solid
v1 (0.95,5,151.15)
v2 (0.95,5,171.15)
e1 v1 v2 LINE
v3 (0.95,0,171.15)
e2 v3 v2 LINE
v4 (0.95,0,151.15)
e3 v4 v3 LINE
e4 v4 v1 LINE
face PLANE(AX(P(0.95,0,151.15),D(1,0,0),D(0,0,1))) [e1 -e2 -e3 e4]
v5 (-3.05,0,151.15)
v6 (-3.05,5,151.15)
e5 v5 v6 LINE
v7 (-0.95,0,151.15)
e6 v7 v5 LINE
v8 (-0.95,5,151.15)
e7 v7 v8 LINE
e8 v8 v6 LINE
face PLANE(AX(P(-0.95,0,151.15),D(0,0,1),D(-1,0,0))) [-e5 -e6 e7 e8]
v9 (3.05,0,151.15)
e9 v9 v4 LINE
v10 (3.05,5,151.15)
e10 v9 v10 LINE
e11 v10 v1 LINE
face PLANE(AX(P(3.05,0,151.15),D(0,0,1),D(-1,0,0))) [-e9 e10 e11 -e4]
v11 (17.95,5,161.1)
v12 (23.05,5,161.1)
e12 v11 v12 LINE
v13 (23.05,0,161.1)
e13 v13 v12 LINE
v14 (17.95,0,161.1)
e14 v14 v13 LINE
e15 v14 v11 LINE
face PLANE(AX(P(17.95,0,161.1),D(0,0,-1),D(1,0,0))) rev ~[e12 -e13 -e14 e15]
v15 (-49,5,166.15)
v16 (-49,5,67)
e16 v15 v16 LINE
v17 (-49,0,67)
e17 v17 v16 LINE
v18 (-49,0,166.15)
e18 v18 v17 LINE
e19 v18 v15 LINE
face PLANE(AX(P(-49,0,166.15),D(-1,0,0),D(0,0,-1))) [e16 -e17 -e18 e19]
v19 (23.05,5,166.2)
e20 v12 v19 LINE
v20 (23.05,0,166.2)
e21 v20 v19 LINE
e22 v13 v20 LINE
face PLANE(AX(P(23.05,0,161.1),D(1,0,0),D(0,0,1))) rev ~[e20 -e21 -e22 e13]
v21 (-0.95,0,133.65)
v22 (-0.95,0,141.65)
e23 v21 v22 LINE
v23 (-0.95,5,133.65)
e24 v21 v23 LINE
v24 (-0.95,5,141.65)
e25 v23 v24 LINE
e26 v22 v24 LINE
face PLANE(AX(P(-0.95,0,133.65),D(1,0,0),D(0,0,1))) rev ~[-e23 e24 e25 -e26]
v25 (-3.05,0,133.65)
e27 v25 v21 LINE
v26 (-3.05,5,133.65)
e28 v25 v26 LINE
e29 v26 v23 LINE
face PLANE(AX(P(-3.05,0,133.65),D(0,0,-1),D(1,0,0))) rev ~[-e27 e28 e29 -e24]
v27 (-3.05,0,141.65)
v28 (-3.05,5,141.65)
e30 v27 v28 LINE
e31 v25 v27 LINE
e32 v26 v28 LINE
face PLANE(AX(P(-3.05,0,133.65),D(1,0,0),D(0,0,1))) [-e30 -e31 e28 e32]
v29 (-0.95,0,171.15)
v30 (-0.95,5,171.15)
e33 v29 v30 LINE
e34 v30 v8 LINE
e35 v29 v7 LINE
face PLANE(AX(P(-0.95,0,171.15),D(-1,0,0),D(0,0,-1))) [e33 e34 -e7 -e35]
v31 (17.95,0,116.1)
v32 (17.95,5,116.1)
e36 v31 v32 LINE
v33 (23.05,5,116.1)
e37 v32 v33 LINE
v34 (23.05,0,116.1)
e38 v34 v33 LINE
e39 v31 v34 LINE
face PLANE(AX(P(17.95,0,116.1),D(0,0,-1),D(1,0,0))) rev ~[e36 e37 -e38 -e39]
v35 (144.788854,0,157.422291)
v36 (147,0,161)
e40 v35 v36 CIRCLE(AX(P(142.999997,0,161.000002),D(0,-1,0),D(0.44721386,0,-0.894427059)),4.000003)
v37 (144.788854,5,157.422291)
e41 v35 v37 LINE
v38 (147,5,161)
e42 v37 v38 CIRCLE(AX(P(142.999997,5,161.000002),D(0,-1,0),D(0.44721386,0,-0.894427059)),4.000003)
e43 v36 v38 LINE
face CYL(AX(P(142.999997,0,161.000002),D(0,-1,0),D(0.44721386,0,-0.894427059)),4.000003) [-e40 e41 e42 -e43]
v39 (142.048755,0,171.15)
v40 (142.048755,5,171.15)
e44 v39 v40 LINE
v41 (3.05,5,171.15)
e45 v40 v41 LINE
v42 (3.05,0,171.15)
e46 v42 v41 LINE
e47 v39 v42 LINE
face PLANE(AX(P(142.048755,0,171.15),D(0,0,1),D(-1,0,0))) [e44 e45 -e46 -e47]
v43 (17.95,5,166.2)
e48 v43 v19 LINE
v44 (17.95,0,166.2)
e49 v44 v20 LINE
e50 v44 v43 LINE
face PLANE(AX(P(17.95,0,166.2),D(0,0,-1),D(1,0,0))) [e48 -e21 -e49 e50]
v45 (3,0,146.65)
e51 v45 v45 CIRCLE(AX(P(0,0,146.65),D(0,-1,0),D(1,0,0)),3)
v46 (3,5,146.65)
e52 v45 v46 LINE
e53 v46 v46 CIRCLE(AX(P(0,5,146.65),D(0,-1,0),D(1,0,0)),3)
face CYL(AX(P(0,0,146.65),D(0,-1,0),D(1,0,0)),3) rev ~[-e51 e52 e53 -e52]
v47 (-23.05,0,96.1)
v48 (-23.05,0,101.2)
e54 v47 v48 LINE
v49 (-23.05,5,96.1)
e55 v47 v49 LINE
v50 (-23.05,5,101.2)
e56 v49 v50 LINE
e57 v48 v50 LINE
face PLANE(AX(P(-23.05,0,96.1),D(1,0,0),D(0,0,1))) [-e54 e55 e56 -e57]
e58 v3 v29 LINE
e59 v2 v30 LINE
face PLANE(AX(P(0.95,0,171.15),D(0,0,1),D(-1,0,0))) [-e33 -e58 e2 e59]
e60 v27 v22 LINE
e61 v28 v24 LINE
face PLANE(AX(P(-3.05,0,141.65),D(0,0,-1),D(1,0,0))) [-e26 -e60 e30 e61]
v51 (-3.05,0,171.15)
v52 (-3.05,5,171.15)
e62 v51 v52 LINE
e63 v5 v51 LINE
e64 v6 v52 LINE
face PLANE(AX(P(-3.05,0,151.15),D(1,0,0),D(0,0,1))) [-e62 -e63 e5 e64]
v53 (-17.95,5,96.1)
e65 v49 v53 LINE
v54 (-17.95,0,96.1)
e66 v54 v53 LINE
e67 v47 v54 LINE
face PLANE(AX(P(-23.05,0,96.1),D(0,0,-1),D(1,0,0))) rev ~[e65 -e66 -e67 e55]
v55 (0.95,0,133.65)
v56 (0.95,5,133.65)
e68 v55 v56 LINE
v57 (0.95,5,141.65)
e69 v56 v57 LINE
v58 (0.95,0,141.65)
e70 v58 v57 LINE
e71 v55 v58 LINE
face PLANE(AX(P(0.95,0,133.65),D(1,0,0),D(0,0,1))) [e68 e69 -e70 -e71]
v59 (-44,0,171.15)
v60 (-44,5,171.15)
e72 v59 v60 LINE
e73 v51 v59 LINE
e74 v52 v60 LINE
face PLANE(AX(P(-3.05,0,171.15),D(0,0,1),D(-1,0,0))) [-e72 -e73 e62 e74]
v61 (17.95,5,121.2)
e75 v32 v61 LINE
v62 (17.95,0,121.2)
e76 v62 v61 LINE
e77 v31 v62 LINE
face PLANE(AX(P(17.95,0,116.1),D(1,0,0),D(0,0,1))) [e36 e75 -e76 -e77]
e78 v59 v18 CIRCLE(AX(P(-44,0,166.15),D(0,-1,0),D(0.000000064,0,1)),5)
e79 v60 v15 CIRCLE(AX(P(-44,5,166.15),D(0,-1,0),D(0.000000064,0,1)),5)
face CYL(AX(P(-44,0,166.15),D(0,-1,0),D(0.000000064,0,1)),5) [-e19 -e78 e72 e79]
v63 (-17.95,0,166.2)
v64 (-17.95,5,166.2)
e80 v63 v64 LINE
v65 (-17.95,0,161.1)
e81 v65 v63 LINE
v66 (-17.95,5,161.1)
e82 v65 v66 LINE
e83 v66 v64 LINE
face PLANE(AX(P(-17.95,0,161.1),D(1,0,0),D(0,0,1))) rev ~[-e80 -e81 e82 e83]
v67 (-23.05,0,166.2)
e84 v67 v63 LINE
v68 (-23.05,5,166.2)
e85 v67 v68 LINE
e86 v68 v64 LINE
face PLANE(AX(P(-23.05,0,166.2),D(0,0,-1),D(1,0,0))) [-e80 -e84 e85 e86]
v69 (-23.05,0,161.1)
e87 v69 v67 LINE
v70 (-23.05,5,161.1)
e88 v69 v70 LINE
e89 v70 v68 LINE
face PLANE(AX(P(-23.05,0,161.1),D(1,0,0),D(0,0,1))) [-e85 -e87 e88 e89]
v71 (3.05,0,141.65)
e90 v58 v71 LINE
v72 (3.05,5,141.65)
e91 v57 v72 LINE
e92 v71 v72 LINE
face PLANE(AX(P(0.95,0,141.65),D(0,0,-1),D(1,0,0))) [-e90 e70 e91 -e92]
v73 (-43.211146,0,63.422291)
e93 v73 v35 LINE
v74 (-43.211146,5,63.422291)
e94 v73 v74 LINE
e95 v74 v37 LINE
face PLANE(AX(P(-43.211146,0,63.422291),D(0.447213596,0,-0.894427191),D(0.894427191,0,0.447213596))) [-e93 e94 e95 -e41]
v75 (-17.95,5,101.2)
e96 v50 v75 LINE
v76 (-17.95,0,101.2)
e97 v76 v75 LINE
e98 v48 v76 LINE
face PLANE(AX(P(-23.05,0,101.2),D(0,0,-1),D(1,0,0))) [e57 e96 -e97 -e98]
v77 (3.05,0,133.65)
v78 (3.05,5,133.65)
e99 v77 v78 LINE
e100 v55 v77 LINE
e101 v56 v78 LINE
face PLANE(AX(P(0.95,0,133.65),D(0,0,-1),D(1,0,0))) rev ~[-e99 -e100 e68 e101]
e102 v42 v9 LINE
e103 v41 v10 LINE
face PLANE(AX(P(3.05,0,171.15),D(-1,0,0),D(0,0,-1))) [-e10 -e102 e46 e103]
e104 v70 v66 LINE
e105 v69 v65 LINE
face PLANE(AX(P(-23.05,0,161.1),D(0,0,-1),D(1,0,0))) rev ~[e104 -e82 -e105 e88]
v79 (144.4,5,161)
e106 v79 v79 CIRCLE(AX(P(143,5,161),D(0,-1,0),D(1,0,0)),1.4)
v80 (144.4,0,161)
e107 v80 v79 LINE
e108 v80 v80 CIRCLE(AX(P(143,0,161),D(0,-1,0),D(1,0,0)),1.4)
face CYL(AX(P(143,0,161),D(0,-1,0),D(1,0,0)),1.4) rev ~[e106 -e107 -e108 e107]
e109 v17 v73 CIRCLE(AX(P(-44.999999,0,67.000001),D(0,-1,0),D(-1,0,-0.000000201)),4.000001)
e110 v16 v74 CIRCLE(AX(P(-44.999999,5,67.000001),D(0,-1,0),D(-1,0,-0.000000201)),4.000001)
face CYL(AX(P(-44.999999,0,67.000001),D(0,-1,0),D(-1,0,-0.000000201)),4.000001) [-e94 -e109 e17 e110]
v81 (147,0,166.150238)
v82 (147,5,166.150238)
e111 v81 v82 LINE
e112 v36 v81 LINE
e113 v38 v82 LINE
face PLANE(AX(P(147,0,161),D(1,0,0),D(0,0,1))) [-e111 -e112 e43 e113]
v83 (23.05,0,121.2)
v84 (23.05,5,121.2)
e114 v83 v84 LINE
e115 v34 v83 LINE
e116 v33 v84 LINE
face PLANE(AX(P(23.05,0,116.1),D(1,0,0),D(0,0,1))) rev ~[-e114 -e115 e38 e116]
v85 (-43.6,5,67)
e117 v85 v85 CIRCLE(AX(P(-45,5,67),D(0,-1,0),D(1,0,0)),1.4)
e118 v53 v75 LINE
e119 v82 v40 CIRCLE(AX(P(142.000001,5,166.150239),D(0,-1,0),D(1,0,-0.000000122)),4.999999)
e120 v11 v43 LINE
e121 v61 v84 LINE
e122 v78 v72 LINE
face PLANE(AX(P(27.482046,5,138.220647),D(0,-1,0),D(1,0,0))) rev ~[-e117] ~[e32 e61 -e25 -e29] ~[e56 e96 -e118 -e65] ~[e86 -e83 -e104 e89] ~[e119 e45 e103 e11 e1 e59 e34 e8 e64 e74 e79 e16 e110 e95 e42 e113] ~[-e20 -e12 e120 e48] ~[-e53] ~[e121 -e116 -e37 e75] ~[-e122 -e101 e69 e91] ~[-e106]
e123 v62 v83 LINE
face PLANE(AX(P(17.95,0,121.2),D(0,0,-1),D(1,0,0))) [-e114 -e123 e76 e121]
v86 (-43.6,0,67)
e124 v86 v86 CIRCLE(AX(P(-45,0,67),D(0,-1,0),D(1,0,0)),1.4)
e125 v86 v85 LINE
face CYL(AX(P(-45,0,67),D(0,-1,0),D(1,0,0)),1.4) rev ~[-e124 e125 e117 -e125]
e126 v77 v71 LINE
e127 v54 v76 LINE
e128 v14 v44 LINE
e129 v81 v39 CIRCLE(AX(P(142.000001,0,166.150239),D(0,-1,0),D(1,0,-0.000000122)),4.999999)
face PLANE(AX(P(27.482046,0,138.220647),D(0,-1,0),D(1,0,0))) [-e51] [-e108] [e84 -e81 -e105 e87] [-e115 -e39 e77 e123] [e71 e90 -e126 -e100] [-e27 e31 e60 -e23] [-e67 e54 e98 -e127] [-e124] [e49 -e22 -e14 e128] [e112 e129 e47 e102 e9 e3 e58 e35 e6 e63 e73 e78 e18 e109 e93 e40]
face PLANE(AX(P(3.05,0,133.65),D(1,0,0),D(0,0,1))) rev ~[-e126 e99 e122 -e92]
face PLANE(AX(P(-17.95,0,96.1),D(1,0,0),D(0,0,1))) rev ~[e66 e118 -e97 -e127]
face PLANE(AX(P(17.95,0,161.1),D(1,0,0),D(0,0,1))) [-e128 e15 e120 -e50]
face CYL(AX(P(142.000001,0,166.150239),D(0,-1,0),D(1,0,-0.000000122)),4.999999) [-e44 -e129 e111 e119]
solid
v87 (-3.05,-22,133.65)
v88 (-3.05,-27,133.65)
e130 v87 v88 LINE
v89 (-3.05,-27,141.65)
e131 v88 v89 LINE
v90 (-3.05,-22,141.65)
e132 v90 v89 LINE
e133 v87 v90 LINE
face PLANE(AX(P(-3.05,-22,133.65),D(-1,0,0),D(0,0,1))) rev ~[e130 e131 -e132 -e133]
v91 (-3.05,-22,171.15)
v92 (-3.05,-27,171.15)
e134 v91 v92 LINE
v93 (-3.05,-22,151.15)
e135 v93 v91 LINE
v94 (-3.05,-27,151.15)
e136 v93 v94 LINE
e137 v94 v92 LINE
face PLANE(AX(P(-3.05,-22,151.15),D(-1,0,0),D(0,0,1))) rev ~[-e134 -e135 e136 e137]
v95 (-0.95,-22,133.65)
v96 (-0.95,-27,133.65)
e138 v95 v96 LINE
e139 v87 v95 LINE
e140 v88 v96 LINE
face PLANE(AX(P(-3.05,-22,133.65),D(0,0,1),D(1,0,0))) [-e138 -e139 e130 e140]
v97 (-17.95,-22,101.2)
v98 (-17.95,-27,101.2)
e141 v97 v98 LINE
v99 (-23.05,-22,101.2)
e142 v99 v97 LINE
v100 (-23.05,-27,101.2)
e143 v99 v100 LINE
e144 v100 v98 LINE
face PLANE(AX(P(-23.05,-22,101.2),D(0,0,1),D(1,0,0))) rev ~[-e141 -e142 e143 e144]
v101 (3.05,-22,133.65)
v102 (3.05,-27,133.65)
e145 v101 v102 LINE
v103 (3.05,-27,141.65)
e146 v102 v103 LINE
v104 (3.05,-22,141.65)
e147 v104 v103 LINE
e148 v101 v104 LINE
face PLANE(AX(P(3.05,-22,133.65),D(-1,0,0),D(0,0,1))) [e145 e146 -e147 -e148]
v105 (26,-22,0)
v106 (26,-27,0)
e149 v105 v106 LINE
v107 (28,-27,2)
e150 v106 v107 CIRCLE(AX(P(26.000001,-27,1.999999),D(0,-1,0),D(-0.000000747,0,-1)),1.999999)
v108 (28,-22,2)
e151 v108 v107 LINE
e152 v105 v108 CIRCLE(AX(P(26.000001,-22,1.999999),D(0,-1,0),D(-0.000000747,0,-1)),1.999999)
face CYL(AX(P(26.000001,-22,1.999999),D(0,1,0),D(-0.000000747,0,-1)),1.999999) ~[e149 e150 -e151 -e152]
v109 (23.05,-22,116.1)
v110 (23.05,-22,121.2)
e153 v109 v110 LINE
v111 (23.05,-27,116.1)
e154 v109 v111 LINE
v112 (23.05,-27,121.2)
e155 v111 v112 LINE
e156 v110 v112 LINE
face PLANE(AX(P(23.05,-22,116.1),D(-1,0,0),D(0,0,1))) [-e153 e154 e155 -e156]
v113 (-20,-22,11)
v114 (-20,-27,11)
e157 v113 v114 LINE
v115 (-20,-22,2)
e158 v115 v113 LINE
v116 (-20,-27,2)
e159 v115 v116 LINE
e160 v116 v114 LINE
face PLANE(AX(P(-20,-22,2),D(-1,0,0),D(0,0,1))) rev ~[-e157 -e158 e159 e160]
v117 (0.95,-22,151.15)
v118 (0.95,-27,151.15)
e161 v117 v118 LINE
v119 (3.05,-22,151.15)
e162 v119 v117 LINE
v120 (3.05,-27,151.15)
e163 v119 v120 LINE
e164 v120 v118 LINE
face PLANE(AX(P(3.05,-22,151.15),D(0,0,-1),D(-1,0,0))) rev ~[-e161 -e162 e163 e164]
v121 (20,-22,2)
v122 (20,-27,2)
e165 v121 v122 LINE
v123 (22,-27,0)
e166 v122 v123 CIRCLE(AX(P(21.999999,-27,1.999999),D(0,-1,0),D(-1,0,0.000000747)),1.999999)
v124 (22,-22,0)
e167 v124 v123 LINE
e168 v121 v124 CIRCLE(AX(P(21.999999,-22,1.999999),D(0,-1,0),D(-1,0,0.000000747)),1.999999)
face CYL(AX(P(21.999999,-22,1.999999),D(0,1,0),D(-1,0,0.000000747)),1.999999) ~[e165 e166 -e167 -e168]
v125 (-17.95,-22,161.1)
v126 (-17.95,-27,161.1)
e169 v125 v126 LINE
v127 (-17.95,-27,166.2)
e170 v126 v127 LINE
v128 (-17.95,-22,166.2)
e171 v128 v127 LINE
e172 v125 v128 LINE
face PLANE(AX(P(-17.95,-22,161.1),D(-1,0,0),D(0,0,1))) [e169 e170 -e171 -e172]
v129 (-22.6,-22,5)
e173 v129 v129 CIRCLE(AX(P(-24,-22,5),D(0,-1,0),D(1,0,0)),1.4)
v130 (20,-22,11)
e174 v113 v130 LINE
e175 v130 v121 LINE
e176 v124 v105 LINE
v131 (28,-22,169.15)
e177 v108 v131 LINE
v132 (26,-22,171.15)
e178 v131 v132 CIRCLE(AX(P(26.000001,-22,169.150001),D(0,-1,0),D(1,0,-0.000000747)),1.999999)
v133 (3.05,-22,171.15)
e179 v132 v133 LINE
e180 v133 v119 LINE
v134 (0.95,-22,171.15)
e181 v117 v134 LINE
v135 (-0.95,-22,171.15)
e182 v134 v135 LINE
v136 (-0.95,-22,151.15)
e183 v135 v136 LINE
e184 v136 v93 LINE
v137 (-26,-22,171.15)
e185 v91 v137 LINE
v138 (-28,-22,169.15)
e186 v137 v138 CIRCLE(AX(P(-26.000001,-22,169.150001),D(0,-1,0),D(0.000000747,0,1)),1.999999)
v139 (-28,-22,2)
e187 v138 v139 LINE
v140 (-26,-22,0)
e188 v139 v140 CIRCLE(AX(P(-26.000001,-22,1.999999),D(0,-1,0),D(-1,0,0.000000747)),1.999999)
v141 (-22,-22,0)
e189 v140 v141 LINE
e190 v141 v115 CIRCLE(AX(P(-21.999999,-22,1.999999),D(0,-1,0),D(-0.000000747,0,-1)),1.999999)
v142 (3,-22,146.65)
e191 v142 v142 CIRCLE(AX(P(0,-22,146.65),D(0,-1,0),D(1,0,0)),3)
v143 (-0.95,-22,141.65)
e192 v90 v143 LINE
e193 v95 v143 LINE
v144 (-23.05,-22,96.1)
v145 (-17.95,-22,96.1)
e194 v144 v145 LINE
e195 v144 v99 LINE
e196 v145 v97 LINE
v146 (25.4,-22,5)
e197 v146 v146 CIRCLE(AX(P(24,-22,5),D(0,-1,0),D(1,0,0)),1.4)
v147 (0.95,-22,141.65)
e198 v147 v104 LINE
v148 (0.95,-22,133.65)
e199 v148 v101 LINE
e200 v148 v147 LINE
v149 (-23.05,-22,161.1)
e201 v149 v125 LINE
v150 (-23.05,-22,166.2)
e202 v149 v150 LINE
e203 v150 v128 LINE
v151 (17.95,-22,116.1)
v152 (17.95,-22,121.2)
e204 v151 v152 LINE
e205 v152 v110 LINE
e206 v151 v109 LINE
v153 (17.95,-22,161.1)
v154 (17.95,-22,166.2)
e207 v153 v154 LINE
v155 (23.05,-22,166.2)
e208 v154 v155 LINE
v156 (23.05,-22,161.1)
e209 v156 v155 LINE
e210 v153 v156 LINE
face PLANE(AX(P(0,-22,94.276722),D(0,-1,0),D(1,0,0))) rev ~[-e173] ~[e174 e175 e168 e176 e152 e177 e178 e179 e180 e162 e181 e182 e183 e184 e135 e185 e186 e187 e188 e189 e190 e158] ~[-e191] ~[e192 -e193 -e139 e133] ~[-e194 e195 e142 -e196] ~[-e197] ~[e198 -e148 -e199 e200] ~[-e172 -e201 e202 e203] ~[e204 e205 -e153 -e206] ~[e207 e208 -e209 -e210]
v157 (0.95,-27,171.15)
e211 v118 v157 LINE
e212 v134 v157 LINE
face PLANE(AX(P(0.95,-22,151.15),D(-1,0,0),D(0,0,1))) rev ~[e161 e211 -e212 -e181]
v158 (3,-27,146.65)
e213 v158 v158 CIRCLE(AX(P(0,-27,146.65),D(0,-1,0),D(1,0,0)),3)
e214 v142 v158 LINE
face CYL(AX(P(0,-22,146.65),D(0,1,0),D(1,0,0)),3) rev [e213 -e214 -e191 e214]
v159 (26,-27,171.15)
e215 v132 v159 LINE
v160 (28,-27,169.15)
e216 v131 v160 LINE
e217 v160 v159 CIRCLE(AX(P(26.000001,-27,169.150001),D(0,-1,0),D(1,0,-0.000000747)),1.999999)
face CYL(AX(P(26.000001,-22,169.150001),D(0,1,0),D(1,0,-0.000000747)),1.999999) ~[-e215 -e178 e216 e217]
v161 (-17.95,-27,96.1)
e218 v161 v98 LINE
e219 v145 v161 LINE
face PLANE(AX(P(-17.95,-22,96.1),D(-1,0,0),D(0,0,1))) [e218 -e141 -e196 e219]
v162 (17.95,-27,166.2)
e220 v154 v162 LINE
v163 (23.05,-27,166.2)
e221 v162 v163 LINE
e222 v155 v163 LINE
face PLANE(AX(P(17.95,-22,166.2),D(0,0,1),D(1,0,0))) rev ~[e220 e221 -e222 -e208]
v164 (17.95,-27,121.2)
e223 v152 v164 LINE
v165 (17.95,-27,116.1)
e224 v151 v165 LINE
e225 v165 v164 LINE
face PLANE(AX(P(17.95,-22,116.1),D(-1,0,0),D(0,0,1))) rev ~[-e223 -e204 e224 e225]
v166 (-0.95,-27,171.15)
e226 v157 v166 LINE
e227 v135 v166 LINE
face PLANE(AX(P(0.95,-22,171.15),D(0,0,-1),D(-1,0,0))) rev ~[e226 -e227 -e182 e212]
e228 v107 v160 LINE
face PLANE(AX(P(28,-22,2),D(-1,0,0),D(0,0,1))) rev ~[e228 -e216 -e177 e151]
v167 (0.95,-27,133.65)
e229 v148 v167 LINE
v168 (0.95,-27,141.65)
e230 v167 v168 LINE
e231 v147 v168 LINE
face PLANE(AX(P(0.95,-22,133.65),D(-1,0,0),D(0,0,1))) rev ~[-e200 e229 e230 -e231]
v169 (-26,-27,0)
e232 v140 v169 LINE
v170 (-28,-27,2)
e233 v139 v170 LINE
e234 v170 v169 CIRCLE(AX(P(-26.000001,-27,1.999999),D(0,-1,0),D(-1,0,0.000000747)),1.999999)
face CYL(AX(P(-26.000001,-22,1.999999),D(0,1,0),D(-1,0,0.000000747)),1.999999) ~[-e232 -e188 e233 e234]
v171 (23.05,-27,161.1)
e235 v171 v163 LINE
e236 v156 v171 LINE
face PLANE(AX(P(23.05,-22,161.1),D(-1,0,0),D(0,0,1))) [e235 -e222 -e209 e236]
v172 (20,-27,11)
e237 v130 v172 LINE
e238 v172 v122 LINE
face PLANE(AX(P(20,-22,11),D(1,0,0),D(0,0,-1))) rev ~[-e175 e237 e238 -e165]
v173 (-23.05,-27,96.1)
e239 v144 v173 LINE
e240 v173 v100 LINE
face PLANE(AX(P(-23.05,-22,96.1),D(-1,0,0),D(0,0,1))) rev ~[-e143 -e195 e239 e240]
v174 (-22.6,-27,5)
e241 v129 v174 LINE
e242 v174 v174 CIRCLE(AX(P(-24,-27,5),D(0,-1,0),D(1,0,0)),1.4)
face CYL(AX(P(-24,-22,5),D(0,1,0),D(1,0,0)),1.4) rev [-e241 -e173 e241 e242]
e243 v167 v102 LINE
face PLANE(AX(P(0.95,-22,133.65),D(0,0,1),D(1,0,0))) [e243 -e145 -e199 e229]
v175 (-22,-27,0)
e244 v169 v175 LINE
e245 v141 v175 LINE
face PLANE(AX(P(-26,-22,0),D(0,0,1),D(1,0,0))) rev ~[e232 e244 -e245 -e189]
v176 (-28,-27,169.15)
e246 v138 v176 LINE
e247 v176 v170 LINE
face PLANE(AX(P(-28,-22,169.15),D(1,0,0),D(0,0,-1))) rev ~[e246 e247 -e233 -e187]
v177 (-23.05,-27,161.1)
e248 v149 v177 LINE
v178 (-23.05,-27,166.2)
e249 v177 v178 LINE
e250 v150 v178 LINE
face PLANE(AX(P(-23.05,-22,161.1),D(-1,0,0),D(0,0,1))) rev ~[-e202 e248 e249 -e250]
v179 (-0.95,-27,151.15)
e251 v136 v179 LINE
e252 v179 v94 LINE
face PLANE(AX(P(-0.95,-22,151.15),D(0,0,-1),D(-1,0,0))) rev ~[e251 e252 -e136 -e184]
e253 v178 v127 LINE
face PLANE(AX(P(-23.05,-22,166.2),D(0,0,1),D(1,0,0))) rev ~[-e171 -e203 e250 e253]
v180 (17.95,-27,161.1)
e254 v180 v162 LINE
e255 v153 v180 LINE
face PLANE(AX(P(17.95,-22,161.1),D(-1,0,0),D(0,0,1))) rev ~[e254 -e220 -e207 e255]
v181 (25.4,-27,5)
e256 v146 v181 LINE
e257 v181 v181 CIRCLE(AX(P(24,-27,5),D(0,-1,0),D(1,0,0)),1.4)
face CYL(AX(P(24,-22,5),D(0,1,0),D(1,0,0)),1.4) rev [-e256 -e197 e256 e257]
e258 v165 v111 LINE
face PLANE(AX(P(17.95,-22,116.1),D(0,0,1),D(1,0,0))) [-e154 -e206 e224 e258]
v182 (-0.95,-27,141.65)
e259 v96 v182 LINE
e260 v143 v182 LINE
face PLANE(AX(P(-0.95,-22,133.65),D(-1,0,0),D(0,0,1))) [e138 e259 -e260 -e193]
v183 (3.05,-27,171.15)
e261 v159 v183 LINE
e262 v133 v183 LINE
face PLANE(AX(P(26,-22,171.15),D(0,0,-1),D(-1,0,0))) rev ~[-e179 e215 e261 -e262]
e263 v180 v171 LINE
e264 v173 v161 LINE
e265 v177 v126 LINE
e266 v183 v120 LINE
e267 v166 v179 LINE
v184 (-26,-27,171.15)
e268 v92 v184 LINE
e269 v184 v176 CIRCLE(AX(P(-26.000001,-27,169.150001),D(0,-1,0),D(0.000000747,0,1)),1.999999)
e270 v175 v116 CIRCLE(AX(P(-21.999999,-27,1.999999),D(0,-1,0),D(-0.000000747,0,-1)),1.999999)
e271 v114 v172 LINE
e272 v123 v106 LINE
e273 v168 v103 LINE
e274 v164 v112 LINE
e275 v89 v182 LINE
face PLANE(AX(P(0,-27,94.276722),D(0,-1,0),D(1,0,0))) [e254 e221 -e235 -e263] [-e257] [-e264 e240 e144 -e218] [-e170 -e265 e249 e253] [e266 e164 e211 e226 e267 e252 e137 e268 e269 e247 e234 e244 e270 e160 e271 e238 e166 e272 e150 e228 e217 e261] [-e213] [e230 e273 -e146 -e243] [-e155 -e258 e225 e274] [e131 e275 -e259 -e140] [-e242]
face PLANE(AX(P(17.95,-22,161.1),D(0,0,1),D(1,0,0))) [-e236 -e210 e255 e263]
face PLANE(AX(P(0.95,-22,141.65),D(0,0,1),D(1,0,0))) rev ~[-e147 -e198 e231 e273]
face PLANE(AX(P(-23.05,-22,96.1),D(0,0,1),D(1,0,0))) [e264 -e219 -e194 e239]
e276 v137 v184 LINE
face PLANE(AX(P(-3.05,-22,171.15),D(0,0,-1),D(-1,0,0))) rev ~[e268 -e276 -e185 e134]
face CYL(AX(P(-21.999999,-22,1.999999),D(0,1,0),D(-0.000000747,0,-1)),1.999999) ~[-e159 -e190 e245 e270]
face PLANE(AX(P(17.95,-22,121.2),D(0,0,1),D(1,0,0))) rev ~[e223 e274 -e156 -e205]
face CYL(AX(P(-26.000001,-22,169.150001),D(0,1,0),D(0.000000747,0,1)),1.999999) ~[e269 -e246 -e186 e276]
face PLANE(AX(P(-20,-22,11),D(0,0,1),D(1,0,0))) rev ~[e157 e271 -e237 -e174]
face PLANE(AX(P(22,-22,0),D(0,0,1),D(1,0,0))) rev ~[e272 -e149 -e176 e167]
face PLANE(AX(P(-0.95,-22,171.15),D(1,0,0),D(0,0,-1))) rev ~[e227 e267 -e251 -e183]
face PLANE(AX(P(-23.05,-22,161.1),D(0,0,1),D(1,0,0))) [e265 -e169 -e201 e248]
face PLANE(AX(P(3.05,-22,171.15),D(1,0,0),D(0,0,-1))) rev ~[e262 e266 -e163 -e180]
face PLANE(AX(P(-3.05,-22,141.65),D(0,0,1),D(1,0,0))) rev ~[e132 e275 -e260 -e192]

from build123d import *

# Parameters (mm, degrees)
F0_R     = 1.4
F0_W     = 5.1
F0_H     = 5.1
F0_W_2   = 2.1
F0_H_2   = 8
F0_R_2   = 3
F3_DEPTH = 5
F2_R     = 1.4
F2_W     = 5.1
F2_H     = 5.1
F2_W_2   = 2.1
F2_H_2   = 8
F2_R_2   = 3
F4_DEPTH = 5


with BuildPart() as f3:
    # F0 (on Front) → F3 (new body)
    with BuildSketch(Plane.XZ):
        with BuildLine():
            Line((-43.211146, 63.422291), (144.788854, 157.422291))
            ThreePointArc((144.788854, 157.422291), (146.402603, 158.897076), (147, 161))
            Line((147, 161), (147, 166.150238))
            ThreePointArc((147, 166.150238), (145.55273, 169.668492), (142.048755, 171.15))
            Line((142.048755, 171.15), (3.05, 171.15))
            Line((3.05, 171.15), (3.05, 151.15))
            Line((3.05, 151.15), (0.95, 151.15))
            Line((0.95, 151.15), (0.95, 171.15))
            Line((0.95, 171.15), (-0.95, 171.15))
            Line((-0.95, 171.15), (-0.95, 151.15))
            Line((-0.95, 151.15), (-3.05, 151.15))
            Line((-3.05, 151.15), (-3.05, 171.15))
            Line((-3.05, 171.15), (-44, 171.15))
            ThreePointArc((-44, 171.15), (-47.535534, 169.685534), (-49, 166.15))
            Line((-49, 166.15), (-49, 67))
            ThreePointArc((-49, 67), (-47.102924, 63.597397), (-43.211146, 63.422291))
        make_face()
        with Locations((-45, 67)):
            Circle(F0_R, mode=Mode.SUBTRACT)
        with Locations((-20.5, 98.65)):
            Rectangle(F0_W, F0_H, mode=Mode.SUBTRACT)
        with Locations((-2, 137.65)):
            Rectangle(F0_W_2, F0_H_2, mode=Mode.SUBTRACT)
        with Locations((20.5, 118.65)):
            Rectangle(F0_W, F0_H, mode=Mode.SUBTRACT)
        with Locations((2, 137.65)):
            Rectangle(F0_W_2, F0_H_2, mode=Mode.SUBTRACT)
        with Locations((0, 146.65)):
            Circle(F0_R_2, mode=Mode.SUBTRACT)
        with Locations((-20.5, 163.65)):
            Rectangle(F0_W, F0_H, mode=Mode.SUBTRACT)
        with Locations((20.5, 163.65)):
            Rectangle(F0_W, F0_H, mode=Mode.SUBTRACT)
        with Locations((143, 161)):
            Circle(F0_R, mode=Mode.SUBTRACT)
    extrude(amount=-F3_DEPTH)


with BuildPart() as f4:
    # F2 (on offset) → F4 (new body)
    with BuildSketch(Plane.XZ.offset(22)):
        with BuildLine():
            ThreePointArc((-28, 2), (-27.414214, 0.585786), (-26, 0))
            Line((-26, 0), (-22, 0))
            ThreePointArc((-22, 0), (-20.585786, 0.585786), (-20, 2))
            Line((-20, 2), (-20, 11))
            Line((-20, 11), (20, 11))
            Line((20, 11), (20, 2))
            ThreePointArc((20, 2), (20.585786, 0.585786), (22, 0))
            Line((22, 0), (26, 0))
            ThreePointArc((26, 0), (27.414214, 0.585786), (28, 2))
            Line((28, 2), (28, 169.15))
            ThreePointArc((28, 169.15), (27.414214, 170.564214), (26, 171.15))
            Line((26, 171.15), (3.05, 171.15))
            Line((3.05, 171.15), (3.05, 151.15))
            Line((3.05, 151.15), (0.95, 151.15))
            Line((0.95, 151.15), (0.95, 171.15))
            Line((0.95, 171.15), (-0.95, 171.15))
            Line((-0.95, 171.15), (-0.95, 151.15))
            Line((-0.95, 151.15), (-3.05, 151.15))
            Line((-3.05, 151.15), (-3.05, 171.15))
            Line((-3.05, 171.15), (-26, 171.15))
            ThreePointArc((-26, 171.15), (-27.414214, 170.564214), (-28, 169.15))
            Line((-28, 169.15), (-28, 2))
        make_face()
        with Locations((-24, 5)):
            Circle(F2_R, mode=Mode.SUBTRACT)
        with Locations((24, 5)):
            Circle(F2_R, mode=Mode.SUBTRACT)
        with Locations((-20.5, 98.65)):
            Rectangle(F2_W, F2_H, mode=Mode.SUBTRACT)
        with Locations((-2, 137.65)):
            Rectangle(F2_W_2, F2_H_2, mode=Mode.SUBTRACT)
        with Locations((-20.5, 163.65)):
            Rectangle(F2_W, F2_H, mode=Mode.SUBTRACT)
        with Locations((20.5, 118.65)):
            Rectangle(F2_W, F2_H, mode=Mode.SUBTRACT)
        with Locations((2, 137.65)):
            Rectangle(F2_W_2, F2_H_2, mode=Mode.SUBTRACT)
        with Locations((0, 146.65)):
            Circle(F2_R_2, mode=Mode.SUBTRACT)
        with Locations((20.5, 163.65)):
            Rectangle(F2_W, F2_H, mode=Mode.SUBTRACT)
    extrude(amount=F4_DEPTH)


solid = Compound([f3.part, f4.part])
